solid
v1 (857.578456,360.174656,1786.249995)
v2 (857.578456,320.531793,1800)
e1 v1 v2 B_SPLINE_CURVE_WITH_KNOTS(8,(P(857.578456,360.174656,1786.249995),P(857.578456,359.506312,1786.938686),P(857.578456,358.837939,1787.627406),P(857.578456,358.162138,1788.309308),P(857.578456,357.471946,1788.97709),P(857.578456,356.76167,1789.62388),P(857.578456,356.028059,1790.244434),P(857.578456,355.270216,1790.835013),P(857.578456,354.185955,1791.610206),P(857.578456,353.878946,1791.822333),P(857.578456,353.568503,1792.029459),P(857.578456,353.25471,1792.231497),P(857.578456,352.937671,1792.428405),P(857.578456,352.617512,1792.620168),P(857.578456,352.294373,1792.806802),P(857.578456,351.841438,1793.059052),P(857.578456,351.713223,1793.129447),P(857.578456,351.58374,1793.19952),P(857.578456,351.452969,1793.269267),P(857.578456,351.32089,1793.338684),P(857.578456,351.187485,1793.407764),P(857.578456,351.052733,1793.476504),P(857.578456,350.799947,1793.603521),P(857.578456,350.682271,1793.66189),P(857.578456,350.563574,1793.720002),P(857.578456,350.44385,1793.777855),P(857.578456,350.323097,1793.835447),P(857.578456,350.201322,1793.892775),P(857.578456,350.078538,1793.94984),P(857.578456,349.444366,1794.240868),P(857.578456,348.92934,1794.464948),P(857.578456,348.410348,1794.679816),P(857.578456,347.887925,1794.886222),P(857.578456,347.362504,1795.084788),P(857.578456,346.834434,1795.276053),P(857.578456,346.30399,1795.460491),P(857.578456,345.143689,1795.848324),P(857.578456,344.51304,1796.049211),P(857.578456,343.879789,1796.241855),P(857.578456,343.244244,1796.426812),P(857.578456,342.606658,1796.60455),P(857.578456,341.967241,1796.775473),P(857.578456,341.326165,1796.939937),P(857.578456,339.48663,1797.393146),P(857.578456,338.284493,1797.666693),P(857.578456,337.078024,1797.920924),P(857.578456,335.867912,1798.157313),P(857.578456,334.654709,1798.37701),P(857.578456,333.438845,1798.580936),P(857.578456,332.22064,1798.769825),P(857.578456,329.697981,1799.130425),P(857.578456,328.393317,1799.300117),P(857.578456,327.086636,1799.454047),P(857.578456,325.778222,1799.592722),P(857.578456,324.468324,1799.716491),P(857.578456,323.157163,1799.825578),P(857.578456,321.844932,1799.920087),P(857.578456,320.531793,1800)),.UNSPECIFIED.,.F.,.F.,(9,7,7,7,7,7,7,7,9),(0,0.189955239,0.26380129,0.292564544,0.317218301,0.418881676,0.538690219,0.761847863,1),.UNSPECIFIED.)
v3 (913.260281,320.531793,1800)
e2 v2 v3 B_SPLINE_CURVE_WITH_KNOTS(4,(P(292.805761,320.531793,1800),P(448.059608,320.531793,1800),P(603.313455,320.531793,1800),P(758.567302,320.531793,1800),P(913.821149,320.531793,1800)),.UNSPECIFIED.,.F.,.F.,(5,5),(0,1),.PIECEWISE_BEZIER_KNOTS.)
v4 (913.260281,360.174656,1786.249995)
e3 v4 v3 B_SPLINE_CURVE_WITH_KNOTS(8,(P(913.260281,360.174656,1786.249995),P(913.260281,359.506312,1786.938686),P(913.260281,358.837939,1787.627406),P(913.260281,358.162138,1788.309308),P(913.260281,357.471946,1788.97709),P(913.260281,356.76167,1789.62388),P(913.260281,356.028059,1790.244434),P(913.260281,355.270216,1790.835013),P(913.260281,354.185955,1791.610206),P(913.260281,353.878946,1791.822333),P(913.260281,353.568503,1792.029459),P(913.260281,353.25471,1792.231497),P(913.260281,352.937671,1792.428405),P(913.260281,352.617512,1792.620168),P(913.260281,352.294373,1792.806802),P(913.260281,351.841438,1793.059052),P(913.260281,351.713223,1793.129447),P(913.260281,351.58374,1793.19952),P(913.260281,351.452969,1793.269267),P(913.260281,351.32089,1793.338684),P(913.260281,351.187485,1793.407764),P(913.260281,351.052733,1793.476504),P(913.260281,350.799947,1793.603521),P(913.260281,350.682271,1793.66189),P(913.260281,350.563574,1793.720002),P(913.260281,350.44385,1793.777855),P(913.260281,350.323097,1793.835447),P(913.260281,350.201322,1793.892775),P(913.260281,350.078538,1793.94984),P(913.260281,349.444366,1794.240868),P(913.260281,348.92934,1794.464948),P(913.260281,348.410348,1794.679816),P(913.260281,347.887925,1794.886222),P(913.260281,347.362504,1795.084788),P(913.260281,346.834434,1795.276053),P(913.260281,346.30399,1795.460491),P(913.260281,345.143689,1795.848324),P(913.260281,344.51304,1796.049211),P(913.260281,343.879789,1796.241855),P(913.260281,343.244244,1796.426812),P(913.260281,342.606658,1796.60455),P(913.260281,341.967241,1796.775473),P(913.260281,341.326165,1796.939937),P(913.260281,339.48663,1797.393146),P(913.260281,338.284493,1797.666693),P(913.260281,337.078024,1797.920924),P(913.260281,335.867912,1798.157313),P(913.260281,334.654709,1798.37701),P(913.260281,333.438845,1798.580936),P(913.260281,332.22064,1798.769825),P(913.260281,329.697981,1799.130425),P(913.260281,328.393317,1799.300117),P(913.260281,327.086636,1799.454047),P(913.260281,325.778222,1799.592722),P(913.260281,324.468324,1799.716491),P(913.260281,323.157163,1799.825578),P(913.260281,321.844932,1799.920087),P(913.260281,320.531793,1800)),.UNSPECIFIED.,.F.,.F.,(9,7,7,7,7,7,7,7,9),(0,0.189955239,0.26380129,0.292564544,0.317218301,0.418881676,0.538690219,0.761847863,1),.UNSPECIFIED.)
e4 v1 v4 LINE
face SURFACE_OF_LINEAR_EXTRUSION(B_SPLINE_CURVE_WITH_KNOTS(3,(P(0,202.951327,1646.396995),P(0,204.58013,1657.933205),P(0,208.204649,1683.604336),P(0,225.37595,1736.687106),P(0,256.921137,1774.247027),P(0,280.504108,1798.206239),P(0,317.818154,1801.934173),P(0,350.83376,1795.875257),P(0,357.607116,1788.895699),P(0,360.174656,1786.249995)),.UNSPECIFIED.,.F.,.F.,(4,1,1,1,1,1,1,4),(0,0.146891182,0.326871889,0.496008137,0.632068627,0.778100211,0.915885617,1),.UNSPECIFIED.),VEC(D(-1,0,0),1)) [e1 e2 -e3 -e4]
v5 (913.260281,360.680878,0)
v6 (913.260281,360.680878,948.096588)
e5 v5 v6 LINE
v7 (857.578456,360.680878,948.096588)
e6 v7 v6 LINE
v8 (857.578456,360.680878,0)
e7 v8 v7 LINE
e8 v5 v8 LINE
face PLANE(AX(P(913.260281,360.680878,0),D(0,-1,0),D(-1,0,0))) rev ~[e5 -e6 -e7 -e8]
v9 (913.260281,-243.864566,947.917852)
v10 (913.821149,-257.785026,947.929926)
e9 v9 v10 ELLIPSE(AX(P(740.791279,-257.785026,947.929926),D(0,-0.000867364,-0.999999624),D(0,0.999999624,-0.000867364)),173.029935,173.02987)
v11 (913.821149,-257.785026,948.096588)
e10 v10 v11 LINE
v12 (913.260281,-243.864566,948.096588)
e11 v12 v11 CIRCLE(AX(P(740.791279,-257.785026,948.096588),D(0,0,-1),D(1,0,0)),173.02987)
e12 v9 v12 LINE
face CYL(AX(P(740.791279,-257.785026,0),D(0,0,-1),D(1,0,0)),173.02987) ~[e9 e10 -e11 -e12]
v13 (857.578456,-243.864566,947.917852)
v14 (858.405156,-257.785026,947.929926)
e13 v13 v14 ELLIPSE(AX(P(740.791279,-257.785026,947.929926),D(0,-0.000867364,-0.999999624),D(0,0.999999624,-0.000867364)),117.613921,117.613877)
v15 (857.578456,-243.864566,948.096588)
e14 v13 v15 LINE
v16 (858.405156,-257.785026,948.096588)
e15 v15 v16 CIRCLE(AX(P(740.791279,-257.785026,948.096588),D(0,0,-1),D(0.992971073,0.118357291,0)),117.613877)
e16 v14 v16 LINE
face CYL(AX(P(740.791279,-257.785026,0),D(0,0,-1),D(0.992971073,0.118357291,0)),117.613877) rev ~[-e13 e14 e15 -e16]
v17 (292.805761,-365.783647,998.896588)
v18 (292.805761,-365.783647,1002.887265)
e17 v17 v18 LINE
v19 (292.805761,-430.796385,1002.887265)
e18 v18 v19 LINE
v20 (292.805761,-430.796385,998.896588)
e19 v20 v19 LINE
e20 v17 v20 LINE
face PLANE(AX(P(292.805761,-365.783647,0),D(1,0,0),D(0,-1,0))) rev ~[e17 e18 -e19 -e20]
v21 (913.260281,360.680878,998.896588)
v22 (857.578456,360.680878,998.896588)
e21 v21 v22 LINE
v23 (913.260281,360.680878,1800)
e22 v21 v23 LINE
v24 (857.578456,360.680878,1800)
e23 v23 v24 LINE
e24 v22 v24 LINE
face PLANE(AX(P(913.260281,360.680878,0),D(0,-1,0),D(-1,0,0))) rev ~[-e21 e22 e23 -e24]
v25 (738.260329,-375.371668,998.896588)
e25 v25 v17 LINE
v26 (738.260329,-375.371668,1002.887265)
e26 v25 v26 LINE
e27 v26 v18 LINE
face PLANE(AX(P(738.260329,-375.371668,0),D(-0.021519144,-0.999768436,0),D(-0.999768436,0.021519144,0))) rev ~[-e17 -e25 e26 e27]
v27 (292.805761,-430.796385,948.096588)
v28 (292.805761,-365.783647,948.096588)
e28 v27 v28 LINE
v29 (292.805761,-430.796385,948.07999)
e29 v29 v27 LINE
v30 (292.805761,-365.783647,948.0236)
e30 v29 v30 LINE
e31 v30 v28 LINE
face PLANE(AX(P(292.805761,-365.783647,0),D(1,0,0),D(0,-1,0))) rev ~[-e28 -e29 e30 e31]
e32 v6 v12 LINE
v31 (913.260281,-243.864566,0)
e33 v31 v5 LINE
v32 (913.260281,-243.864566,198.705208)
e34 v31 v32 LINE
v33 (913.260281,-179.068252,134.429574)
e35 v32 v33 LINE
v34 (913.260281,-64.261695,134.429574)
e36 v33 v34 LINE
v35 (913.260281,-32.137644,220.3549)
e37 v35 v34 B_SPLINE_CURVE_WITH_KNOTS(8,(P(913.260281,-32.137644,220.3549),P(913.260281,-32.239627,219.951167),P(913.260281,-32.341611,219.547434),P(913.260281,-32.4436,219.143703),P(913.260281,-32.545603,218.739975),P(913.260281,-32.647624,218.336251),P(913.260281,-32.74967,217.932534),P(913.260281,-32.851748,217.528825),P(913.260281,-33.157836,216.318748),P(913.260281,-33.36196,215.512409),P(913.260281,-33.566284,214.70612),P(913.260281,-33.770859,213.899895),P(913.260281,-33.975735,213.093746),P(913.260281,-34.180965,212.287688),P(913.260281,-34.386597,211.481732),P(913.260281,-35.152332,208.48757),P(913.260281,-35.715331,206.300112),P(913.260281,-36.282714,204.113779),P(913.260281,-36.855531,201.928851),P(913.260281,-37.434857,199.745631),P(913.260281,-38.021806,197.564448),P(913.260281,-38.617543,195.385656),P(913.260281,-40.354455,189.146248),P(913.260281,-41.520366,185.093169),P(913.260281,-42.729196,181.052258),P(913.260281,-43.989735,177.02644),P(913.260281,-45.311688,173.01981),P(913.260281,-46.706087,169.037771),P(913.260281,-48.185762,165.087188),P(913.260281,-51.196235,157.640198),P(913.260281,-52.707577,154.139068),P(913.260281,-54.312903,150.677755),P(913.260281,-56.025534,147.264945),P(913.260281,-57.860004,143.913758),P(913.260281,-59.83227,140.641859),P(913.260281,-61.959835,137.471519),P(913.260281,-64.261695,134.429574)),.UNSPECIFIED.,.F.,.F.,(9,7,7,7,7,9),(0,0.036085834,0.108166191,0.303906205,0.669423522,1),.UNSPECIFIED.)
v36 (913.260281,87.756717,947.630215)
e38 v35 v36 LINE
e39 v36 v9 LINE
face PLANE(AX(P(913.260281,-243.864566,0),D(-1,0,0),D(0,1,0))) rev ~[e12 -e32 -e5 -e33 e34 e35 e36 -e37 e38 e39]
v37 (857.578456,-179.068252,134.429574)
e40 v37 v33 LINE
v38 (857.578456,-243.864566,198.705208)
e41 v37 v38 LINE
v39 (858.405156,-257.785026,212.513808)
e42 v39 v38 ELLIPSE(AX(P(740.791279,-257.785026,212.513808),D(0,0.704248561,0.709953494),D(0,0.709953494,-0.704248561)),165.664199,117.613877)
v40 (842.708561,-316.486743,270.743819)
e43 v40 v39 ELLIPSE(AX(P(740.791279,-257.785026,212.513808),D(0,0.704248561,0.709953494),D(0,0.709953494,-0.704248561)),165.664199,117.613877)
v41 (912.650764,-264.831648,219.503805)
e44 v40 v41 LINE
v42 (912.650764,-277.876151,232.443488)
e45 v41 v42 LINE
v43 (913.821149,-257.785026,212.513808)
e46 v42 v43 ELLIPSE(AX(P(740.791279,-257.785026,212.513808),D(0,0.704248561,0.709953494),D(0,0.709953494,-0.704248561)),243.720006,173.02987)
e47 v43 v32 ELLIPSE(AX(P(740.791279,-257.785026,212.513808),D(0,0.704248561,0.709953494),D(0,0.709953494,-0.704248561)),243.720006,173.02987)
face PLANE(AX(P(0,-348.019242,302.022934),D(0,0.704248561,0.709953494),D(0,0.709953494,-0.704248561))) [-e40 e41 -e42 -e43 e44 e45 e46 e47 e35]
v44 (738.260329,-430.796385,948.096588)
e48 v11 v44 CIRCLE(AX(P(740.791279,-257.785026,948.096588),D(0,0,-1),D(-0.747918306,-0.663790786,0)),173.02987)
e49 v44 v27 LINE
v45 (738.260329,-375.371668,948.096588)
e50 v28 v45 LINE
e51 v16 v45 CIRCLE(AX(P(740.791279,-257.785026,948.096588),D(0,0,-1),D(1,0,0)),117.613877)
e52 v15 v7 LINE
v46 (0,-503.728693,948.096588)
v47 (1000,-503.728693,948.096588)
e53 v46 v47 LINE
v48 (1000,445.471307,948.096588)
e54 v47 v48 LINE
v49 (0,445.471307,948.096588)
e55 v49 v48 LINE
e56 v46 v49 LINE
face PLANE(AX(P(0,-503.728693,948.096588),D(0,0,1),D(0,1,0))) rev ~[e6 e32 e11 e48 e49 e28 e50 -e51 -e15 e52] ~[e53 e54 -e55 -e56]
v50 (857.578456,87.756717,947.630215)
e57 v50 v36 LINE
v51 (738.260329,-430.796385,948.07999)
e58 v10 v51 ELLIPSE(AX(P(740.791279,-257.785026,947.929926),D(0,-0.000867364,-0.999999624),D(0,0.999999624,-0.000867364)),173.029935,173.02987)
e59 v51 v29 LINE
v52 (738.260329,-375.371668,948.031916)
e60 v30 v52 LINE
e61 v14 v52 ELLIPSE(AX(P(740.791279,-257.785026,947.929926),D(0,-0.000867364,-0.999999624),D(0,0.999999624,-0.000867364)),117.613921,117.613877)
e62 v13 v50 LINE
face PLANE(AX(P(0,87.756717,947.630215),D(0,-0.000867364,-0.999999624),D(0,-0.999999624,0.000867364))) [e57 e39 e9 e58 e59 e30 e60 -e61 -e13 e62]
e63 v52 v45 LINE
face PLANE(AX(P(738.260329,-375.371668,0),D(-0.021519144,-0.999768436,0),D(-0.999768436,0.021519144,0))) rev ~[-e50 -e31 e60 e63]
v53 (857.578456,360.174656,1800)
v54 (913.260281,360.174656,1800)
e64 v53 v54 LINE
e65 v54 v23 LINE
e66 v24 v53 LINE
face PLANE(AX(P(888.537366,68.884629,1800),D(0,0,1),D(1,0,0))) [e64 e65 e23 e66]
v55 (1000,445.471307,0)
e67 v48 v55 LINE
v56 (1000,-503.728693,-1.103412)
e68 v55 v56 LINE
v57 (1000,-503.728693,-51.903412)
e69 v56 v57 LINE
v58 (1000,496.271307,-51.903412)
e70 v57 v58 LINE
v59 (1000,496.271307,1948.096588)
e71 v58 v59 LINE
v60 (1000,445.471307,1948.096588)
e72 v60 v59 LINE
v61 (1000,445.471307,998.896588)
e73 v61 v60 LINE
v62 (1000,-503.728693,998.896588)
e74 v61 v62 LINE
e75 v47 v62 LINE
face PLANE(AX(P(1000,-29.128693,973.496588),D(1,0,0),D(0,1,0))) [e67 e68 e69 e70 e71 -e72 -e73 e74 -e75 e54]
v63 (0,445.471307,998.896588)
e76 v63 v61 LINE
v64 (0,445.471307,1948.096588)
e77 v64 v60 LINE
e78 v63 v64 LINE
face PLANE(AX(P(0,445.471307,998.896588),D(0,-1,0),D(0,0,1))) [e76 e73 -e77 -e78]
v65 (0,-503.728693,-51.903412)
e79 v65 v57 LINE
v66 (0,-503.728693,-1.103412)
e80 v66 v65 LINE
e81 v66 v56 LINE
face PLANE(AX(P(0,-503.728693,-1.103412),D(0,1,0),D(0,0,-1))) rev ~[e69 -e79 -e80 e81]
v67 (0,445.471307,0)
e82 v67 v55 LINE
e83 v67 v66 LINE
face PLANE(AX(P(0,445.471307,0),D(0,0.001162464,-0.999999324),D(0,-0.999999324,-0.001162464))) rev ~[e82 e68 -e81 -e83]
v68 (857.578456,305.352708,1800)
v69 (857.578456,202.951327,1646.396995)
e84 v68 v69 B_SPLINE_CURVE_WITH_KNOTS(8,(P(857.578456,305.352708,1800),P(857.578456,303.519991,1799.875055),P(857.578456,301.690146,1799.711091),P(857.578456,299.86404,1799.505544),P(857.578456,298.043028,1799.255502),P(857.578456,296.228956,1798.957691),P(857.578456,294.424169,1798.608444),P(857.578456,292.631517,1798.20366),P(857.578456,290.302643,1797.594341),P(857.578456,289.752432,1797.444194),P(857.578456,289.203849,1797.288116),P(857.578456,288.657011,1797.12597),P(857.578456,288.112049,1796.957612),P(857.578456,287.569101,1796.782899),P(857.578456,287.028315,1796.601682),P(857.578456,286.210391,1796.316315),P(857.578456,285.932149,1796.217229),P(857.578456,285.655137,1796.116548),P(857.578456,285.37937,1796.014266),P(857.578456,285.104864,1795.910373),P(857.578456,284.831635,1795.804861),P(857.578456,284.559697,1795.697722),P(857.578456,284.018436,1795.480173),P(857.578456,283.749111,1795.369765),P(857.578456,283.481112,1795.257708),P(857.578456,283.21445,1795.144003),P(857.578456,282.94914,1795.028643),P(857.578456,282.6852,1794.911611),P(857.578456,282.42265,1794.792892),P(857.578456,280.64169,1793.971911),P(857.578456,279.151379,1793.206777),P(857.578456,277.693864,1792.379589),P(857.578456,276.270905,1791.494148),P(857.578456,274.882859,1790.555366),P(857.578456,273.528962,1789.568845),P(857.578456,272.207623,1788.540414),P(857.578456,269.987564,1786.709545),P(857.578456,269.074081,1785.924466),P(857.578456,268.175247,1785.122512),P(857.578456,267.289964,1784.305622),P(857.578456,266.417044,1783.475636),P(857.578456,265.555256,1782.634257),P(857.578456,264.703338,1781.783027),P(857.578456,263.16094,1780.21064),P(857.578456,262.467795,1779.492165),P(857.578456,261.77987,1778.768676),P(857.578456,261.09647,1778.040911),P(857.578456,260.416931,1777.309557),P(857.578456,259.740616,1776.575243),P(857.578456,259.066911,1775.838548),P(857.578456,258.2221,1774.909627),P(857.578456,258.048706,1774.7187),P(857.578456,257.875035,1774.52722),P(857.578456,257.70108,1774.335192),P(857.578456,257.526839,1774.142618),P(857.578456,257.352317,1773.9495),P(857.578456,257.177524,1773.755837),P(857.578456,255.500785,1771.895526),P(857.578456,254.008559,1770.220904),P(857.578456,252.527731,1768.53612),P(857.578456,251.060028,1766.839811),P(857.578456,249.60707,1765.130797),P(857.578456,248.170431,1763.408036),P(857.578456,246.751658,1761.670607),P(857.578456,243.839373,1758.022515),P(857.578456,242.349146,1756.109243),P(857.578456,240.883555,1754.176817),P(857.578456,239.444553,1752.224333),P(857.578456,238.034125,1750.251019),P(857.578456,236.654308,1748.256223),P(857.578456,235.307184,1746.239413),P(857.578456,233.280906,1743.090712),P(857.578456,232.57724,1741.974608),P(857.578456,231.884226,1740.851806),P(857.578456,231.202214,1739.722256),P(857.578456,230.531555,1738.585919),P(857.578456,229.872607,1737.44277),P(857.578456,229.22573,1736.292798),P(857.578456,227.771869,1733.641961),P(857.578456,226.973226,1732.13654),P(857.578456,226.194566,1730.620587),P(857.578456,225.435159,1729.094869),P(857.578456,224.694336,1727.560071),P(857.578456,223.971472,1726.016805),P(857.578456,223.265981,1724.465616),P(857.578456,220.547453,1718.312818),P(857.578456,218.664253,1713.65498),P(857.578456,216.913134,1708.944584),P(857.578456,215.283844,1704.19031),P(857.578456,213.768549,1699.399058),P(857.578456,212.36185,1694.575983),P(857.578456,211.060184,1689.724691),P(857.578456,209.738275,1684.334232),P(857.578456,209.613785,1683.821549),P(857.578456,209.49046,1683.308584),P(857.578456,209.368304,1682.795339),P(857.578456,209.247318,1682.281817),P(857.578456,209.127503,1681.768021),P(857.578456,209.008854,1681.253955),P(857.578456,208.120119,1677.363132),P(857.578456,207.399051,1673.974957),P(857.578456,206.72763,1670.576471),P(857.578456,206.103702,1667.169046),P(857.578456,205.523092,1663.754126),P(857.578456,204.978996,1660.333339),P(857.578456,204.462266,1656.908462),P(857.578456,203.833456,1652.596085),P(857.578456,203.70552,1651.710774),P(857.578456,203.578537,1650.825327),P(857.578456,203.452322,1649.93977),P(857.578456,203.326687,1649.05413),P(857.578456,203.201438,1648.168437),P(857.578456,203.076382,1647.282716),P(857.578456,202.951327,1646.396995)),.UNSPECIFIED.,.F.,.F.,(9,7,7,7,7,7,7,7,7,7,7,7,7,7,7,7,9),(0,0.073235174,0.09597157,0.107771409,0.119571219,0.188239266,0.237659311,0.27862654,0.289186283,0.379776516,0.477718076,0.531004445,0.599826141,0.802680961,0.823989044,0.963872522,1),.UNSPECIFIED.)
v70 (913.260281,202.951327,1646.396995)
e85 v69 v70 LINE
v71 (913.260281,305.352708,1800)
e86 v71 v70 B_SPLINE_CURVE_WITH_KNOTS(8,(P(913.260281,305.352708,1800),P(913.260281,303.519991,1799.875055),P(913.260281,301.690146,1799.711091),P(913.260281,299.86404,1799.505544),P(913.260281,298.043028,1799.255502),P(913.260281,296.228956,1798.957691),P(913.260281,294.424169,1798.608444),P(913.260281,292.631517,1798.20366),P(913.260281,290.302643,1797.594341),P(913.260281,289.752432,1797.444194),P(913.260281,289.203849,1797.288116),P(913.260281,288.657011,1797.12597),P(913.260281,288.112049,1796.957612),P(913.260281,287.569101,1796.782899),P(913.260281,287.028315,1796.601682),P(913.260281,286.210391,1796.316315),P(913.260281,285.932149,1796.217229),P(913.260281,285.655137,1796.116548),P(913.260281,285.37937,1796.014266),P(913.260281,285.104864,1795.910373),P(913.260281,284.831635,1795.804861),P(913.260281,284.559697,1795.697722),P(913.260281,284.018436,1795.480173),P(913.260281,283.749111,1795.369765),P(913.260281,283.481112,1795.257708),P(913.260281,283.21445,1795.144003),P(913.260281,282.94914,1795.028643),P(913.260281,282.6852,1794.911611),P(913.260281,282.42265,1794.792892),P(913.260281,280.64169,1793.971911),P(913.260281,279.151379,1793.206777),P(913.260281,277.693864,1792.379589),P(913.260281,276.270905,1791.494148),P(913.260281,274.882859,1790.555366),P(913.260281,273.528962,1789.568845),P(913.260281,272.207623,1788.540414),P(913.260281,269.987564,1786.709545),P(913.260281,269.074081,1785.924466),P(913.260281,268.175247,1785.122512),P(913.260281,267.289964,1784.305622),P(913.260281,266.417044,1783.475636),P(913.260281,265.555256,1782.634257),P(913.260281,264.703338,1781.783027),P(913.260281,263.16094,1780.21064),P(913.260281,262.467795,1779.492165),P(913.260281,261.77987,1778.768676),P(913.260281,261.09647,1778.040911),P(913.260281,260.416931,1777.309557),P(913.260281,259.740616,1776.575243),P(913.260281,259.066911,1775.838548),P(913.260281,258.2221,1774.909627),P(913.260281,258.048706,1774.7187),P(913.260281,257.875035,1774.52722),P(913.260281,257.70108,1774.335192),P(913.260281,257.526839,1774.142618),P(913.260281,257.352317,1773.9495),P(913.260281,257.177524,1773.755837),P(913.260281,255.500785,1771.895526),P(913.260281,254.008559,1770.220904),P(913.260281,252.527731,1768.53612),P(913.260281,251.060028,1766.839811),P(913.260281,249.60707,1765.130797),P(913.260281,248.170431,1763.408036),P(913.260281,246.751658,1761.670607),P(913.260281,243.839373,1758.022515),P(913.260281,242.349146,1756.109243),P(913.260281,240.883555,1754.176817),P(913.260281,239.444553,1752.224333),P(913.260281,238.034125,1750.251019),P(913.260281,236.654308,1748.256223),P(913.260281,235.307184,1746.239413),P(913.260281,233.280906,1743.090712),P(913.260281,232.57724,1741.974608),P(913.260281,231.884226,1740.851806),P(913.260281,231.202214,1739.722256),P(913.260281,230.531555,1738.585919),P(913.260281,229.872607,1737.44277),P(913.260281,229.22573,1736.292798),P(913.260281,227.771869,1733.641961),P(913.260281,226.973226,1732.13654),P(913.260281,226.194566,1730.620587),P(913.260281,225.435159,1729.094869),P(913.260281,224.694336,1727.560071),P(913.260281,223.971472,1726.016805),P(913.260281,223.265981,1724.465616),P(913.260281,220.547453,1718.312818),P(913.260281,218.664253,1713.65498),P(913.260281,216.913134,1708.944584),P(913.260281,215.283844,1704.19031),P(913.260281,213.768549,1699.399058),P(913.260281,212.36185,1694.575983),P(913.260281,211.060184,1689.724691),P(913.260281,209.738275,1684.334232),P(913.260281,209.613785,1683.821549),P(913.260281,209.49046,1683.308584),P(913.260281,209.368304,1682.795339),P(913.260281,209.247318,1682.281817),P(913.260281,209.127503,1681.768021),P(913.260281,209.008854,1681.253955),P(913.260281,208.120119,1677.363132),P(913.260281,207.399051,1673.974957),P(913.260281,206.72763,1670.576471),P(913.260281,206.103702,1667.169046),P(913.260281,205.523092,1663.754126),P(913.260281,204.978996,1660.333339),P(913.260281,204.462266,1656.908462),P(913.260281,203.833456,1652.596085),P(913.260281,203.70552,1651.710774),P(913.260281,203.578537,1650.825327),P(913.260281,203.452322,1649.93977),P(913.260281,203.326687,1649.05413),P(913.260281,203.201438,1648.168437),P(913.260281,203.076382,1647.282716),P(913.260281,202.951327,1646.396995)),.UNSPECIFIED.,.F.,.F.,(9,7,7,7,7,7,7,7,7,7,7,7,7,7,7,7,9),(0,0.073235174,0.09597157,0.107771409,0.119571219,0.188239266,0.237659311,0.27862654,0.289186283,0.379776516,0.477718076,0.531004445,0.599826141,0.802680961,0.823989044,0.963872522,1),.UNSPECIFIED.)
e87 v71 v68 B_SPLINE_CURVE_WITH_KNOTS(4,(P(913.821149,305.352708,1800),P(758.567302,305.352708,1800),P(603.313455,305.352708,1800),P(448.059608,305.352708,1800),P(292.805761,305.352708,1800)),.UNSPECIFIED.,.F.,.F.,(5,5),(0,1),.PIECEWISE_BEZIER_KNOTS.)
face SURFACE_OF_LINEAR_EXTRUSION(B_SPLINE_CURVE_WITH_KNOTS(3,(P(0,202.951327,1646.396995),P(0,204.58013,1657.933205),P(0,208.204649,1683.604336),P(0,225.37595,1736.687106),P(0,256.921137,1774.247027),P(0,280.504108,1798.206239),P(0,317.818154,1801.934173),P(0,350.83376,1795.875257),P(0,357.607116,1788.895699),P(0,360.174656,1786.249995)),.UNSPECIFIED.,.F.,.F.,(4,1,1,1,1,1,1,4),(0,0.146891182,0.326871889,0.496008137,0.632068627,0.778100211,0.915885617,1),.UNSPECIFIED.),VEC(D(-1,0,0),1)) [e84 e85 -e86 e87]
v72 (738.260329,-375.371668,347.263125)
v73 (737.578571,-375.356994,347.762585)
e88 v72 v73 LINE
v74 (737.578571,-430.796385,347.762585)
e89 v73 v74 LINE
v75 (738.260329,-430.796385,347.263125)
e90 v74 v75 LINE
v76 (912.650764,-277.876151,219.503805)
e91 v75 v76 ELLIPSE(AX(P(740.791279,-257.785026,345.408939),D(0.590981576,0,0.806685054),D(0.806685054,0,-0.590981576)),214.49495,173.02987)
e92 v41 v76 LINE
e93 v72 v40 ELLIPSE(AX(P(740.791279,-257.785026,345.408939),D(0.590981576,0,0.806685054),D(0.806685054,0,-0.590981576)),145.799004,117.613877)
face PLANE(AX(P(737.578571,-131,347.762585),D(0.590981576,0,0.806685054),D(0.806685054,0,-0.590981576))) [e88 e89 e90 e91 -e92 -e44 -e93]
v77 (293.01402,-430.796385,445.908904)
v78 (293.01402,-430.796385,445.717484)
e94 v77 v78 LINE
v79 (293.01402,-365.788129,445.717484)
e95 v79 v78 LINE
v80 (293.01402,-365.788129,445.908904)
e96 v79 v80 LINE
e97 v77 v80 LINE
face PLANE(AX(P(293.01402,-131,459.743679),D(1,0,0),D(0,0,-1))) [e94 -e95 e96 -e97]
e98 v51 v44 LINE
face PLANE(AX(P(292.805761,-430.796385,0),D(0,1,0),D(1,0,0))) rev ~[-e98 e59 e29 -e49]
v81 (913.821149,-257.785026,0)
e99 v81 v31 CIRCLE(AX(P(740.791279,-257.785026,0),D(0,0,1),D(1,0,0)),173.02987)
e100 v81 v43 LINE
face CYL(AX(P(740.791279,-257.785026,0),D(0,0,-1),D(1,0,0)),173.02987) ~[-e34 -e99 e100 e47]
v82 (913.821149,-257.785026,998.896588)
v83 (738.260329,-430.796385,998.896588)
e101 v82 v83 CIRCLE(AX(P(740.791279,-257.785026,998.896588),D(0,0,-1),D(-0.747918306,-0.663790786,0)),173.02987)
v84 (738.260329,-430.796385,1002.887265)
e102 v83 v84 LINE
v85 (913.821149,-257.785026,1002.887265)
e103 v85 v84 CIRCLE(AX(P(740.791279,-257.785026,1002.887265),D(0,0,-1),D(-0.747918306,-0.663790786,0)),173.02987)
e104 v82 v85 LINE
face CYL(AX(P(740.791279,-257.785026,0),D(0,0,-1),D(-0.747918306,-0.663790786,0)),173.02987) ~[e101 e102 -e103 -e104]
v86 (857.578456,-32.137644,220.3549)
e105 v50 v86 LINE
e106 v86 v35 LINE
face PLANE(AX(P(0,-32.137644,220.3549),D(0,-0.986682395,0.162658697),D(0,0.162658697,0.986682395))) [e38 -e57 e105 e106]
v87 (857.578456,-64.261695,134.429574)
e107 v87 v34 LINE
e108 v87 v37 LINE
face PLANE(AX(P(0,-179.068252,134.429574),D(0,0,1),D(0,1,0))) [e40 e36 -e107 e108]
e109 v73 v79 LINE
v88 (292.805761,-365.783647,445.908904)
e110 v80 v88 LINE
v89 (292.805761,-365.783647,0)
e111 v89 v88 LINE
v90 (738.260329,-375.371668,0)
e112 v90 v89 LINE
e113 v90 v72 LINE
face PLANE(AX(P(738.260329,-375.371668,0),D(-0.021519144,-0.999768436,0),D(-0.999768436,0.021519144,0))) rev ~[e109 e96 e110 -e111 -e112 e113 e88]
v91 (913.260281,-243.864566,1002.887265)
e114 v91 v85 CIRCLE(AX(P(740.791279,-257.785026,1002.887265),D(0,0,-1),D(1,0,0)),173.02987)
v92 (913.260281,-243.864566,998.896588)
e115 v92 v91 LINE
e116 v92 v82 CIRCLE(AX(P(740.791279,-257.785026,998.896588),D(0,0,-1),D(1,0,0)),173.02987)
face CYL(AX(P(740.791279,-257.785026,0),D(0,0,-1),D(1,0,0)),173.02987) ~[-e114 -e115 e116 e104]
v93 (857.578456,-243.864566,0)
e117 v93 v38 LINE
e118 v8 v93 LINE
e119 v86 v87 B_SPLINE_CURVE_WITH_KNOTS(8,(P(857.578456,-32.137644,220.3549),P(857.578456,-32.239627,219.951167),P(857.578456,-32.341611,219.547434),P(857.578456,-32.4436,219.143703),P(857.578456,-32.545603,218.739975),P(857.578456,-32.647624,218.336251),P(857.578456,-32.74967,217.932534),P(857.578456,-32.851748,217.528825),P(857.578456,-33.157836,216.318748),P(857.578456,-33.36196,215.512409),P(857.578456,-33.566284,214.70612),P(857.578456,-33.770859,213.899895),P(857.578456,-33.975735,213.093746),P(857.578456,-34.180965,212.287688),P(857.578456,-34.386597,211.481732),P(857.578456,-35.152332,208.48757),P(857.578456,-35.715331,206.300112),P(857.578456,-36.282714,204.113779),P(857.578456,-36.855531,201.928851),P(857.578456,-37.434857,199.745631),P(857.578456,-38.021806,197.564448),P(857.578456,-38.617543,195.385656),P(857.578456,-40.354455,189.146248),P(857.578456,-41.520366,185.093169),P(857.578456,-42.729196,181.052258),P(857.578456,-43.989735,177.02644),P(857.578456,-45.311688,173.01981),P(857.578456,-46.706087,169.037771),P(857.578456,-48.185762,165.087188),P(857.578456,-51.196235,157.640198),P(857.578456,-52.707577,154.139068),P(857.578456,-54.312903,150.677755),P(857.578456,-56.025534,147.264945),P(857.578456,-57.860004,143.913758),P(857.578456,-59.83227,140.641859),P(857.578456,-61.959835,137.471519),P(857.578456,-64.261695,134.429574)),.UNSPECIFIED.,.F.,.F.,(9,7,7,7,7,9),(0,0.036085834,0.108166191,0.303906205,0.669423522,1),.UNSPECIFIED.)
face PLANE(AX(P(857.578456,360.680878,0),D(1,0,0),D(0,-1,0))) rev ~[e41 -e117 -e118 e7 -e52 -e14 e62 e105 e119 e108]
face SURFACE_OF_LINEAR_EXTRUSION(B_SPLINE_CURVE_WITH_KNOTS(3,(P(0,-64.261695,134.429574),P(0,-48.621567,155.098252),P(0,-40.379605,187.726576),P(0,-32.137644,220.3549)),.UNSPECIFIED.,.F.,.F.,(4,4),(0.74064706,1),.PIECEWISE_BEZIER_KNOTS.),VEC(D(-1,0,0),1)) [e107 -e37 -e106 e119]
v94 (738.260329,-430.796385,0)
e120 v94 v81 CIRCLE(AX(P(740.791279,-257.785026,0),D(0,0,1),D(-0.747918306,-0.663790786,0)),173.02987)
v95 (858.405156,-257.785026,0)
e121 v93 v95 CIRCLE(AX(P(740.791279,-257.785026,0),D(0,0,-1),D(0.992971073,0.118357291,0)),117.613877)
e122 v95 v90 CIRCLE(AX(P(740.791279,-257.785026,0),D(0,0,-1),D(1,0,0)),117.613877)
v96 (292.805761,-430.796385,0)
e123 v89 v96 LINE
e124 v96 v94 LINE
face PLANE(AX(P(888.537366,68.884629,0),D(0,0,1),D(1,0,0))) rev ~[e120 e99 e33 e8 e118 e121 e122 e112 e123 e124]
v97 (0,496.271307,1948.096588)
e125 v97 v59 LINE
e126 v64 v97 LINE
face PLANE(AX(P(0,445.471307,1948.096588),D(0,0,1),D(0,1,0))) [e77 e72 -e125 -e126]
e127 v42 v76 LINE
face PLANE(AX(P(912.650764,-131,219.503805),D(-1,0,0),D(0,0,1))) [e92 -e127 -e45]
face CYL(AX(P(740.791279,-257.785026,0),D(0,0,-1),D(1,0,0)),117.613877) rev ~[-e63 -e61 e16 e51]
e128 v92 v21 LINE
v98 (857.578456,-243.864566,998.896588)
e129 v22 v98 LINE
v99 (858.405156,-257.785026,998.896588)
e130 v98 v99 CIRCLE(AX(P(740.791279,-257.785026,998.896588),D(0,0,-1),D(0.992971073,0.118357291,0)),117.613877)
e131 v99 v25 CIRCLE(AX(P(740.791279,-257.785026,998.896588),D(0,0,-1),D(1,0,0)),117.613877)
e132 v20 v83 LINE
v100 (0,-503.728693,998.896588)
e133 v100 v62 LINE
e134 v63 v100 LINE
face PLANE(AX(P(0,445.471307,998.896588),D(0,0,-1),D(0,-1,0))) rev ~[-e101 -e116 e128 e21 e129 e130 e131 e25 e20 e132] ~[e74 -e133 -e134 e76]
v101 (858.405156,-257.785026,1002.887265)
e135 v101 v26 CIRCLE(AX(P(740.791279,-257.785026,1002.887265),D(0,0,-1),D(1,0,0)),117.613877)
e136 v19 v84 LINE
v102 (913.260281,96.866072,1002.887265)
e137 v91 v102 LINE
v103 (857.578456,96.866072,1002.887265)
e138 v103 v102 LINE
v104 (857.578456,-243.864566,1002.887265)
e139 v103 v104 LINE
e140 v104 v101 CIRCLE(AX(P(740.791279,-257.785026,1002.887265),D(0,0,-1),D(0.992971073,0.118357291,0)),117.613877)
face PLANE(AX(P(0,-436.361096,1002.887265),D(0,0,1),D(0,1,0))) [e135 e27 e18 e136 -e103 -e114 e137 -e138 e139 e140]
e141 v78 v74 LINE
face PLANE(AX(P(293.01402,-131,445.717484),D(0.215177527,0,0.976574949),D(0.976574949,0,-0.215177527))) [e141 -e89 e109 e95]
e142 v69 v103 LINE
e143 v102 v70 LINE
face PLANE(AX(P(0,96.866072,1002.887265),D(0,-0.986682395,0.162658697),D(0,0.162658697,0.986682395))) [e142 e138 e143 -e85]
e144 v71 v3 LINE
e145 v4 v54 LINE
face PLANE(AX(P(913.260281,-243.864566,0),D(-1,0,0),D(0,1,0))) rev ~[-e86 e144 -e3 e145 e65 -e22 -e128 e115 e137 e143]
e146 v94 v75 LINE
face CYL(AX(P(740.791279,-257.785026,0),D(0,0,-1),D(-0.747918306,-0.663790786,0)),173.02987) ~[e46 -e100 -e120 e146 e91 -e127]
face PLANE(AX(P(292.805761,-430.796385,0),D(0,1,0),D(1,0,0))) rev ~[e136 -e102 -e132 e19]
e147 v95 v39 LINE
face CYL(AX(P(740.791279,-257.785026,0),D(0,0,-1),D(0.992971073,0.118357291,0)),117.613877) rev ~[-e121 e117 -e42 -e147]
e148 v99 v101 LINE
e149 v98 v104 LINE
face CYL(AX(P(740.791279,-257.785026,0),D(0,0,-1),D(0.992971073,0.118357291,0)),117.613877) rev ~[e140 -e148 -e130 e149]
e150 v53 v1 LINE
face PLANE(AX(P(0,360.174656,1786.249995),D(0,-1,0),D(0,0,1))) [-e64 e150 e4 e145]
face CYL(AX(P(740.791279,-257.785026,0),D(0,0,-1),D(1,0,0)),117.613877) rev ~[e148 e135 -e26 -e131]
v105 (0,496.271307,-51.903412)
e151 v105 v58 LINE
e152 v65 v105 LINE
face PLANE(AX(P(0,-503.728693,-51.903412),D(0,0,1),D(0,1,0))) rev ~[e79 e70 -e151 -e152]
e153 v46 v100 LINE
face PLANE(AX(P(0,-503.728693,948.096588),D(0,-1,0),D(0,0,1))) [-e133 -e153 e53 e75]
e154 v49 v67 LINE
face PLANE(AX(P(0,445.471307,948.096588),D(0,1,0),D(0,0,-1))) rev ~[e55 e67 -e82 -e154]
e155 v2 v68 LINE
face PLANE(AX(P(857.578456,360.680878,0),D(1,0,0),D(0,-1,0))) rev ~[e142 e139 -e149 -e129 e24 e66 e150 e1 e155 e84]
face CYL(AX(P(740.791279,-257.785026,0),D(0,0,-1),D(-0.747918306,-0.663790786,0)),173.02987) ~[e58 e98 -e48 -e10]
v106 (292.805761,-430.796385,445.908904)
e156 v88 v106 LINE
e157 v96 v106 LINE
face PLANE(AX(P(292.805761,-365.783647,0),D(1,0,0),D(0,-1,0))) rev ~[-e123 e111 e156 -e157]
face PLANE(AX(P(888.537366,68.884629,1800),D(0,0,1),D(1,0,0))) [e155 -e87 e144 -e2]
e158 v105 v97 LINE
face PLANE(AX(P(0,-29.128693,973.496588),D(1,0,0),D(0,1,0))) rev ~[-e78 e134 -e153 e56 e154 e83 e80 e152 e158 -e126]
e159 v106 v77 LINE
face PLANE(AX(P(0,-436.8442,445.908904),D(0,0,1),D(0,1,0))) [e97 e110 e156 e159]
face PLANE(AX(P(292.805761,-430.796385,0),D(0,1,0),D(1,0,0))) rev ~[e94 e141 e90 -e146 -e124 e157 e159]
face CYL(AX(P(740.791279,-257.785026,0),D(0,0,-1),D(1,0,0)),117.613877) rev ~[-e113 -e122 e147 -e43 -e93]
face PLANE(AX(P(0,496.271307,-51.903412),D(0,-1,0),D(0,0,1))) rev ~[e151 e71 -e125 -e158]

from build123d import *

# Parameters (mm, degrees)
F0_W     = 949.2
F0_H     = 50.8
F0_W_2   = 50.8
F0_H_2   = 949.2
F1_DEPTH = 1000
F3_DEPTH = 1800
F5_DEPTH = 5360
F7_START = 131
F7_DEPTH = 629


with BuildPart() as f1:
    # F0 (on Right) → F1 (new body)
    with BuildSketch(Plane.YZ):
        with Locations((-29.1286933511, 973.496588254)):
            Rectangle(F0_W, F0_H)
        with Locations((470.8713066489, 973.496588254)):
            Rectangle(F0_W_2, F0_H)
        with Locations((470.8713066489, 1473.496588254)):
            Rectangle(F0_W_2, F0_H_2)
        Polygon((-503.7286933511, -1.103411746), (-503.7286933511, -51.903411746), (496.2713066489, -51.903411746), (496.2713066489, 948.096588254), (445.4713066489, 948.096588254), (445.4713066489, 0), align=None)
    extrude(amount=F1_DEPTH)

    # F2 (on Top) → F3 (join)
    with BuildSketch(Plane.XY):
        with BuildLine():
            ThreePointArc((857.5784564018, -130.1132158098), (896.2008242629, -181.7113174116), (913.260281086, -243.8645660877))
            Line((913.260281086, -243.8645660877), (913.260281086, 360.6808781624))
            Line((913.260281086, 360.6808781624), (857.5784564018, 360.6808781624))
            Line((857.5784564018, 360.6808781624), (857.5784564018, -130.1132158098))
        make_face()
        with BuildLine():
            ThreePointArc((611.3790712788, -372.640659557), (668.6957081838, -415.0795417944), (738.2603287697, -430.7963848114))
            ThreePointArc((738.2603287697, -430.7963848114), (862.2437509886, -381.0271980017), (913.8211489182, -257.785025984))
            ThreePointArc((913.8211489182, -257.785025984), (913.6808751008, -250.8191488596), (913.260281086, -243.8645660877))
            ThreePointArc((913.260281086, -243.8645660877), (896.2008242629, -181.7113174116), (857.5784564018, -130.1132158098))
            Line((857.5784564018, -130.1132158098), (857.5784564018, -243.8645660877))
            ThreePointArc((857.5784564018, -243.8645660877), (858.1982990198, -250.8125329656), (858.4051557693, -257.785025984))
            ThreePointArc((858.4051557693, -257.785025984), (823.0571563331, -341.8406590918), (738.2603287697, -375.3716679713))
            Line((738.2603287697, -375.3716679713), (611.3790712788, -372.640659557))
        make_face()
        with BuildLine():
            Line((292.8057610989, -365.7836468832), (292.8057610989, -430.7963848114))
            Line((292.8057610989, -430.7963848114), (738.2603287697, -430.7963848114))
            ThreePointArc((738.2603287697, -430.7963848114), (668.6957081838, -415.0795417944), (611.3790712788, -372.640659557))
            Line((611.3790712788, -372.640659557), (292.8057610989, -365.7836468832))
        make_face()
    extrude(amount=F3_DEPTH)

    # F4 (on Right) → F5 (cut)
    with BuildSketch(Plane.YZ):
        with BuildLine():
            Line((-435.6626272202, 1808.1647157669), (-436.3610964974, 1002.8872649632))
            Line((-436.3610964974, 1002.8872649632), (96.866071558, 1002.8872649632))
            Line((96.866071558, 1002.8872649632), (202.9513269663, 1646.3969945908))
            add(Edge.make_bspline(
                [(202.9513269663, 1646.3969945908), (204.5801297554, 1657.9332047918), (208.2046485199, 1683.6043361435), (225.3759496446, 1736.6871062603), (256.9211367372, 1774.2470270708), (280.5041077395, 1798.206239093), (317.8181539373, 1801.9341732886), (350.8337600962, 1795.8752573669), (357.6071157247, 1788.8956994391), (360.1746559143, 1786.2499952316)],
                knots=[0, 0, 0, 0, 0.1468911817, 0.3268718889, 0.4960081367, 0.6320686272, 0.7781002106, 0.9158856173, 1, 1, 1, 1], degree=3))
            Line((360.1746559143, 1786.2499952316), (360.1746559143, 1808.1647157669))
            Line((360.1746559143, 1808.1647157669), (-435.6626272202, 1808.1647157669))
        make_face()
        with BuildLine():
            Line((-436.4086301738, 948.084857743), (-436.8441998959, 445.9089040756))
            Line((-436.8441998959, 445.9089040756), (-348.0192422867, 445.9089040756))
            Line((-348.0192422867, 445.9089040756), (-243.5122281313, 445.9089040756))
            Line((-243.5122281313, 445.9089040756), (-243.5122281313, 220.3548997641))
            add(Edge.make_bspline(
                [(-243.5122281313, 220.3548997641), (-233.785627989, 201.848121656), (-224.0590278467, 183.3413435479), (-211.8256313009, 166.9237262564)],
                knots=[0, 0, 0, 0, 0.1915955458, 0.1915955458, 0.1915955458, 0.1915955458], degree=3))
            Line((-211.8256313009, 166.9237262564), (-179.0682524443, 134.4295740128))
            Line((-179.0682524443, 134.4295740128), (-64.2616951351, 134.4295740128))
            add(Edge.make_bspline(
                [(-64.2616951351, 134.4295740128), (-48.6215669755, 155.0982523243), (-40.3796052607, 187.7265760442), (-32.1376435459, 220.3548997641)],
                knots=[0.7406470598, 0.7406470598, 0.7406470598, 0.7406470598, 1, 1, 1, 1], degree=3))
            Line((-32.1376435459, 220.3548997641), (87.7567170793, 947.630215196))
            Line((87.7567170793, 947.630215196), (-436.4086301738, 948.084857743))
        make_face()
        with BuildLine():
            Line((-243.5122281313, 445.9089040756), (-348.0192422867, 445.9089040756))
            Line((-348.0192422867, 445.9089040756), (-348.0192422867, 302.02293396))
            Line((-348.0192422867, 302.02293396), (-211.8256313009, 166.9237262564))
            add(Edge.make_bspline(
                [(-243.5122281313, 220.3548997641), (-233.785627989, 201.848121656), (-224.0590278467, 183.3413435479), (-211.8256313009, 166.9237262564)],
                knots=[0, 0, 0, 0, 0.1915955458, 0.1915955458, 0.1915955458, 0.1915955458], degree=3))
            Line((-243.5122281313, 220.3548997641), (-243.5122281313, 445.9089040756))
        make_face()
    extrude(amount=F5_DEPTH, mode=Mode.SUBTRACT)

    # F6 (on Front) → F7 (cut)
    with BuildSketch(Plane.XZ.offset(F7_START)):
        Polygon((293.0140197277, 459.7436785698), (293.0140197277, 445.7174837589), (737.5785708427, 347.7625846863), (912.6507639885, 219.5038050413), (912.6507639885, 459.7436785698), align=None)
    extrude(amount=F7_DEPTH, mode=Mode.SUBTRACT)


solid = f1.part
